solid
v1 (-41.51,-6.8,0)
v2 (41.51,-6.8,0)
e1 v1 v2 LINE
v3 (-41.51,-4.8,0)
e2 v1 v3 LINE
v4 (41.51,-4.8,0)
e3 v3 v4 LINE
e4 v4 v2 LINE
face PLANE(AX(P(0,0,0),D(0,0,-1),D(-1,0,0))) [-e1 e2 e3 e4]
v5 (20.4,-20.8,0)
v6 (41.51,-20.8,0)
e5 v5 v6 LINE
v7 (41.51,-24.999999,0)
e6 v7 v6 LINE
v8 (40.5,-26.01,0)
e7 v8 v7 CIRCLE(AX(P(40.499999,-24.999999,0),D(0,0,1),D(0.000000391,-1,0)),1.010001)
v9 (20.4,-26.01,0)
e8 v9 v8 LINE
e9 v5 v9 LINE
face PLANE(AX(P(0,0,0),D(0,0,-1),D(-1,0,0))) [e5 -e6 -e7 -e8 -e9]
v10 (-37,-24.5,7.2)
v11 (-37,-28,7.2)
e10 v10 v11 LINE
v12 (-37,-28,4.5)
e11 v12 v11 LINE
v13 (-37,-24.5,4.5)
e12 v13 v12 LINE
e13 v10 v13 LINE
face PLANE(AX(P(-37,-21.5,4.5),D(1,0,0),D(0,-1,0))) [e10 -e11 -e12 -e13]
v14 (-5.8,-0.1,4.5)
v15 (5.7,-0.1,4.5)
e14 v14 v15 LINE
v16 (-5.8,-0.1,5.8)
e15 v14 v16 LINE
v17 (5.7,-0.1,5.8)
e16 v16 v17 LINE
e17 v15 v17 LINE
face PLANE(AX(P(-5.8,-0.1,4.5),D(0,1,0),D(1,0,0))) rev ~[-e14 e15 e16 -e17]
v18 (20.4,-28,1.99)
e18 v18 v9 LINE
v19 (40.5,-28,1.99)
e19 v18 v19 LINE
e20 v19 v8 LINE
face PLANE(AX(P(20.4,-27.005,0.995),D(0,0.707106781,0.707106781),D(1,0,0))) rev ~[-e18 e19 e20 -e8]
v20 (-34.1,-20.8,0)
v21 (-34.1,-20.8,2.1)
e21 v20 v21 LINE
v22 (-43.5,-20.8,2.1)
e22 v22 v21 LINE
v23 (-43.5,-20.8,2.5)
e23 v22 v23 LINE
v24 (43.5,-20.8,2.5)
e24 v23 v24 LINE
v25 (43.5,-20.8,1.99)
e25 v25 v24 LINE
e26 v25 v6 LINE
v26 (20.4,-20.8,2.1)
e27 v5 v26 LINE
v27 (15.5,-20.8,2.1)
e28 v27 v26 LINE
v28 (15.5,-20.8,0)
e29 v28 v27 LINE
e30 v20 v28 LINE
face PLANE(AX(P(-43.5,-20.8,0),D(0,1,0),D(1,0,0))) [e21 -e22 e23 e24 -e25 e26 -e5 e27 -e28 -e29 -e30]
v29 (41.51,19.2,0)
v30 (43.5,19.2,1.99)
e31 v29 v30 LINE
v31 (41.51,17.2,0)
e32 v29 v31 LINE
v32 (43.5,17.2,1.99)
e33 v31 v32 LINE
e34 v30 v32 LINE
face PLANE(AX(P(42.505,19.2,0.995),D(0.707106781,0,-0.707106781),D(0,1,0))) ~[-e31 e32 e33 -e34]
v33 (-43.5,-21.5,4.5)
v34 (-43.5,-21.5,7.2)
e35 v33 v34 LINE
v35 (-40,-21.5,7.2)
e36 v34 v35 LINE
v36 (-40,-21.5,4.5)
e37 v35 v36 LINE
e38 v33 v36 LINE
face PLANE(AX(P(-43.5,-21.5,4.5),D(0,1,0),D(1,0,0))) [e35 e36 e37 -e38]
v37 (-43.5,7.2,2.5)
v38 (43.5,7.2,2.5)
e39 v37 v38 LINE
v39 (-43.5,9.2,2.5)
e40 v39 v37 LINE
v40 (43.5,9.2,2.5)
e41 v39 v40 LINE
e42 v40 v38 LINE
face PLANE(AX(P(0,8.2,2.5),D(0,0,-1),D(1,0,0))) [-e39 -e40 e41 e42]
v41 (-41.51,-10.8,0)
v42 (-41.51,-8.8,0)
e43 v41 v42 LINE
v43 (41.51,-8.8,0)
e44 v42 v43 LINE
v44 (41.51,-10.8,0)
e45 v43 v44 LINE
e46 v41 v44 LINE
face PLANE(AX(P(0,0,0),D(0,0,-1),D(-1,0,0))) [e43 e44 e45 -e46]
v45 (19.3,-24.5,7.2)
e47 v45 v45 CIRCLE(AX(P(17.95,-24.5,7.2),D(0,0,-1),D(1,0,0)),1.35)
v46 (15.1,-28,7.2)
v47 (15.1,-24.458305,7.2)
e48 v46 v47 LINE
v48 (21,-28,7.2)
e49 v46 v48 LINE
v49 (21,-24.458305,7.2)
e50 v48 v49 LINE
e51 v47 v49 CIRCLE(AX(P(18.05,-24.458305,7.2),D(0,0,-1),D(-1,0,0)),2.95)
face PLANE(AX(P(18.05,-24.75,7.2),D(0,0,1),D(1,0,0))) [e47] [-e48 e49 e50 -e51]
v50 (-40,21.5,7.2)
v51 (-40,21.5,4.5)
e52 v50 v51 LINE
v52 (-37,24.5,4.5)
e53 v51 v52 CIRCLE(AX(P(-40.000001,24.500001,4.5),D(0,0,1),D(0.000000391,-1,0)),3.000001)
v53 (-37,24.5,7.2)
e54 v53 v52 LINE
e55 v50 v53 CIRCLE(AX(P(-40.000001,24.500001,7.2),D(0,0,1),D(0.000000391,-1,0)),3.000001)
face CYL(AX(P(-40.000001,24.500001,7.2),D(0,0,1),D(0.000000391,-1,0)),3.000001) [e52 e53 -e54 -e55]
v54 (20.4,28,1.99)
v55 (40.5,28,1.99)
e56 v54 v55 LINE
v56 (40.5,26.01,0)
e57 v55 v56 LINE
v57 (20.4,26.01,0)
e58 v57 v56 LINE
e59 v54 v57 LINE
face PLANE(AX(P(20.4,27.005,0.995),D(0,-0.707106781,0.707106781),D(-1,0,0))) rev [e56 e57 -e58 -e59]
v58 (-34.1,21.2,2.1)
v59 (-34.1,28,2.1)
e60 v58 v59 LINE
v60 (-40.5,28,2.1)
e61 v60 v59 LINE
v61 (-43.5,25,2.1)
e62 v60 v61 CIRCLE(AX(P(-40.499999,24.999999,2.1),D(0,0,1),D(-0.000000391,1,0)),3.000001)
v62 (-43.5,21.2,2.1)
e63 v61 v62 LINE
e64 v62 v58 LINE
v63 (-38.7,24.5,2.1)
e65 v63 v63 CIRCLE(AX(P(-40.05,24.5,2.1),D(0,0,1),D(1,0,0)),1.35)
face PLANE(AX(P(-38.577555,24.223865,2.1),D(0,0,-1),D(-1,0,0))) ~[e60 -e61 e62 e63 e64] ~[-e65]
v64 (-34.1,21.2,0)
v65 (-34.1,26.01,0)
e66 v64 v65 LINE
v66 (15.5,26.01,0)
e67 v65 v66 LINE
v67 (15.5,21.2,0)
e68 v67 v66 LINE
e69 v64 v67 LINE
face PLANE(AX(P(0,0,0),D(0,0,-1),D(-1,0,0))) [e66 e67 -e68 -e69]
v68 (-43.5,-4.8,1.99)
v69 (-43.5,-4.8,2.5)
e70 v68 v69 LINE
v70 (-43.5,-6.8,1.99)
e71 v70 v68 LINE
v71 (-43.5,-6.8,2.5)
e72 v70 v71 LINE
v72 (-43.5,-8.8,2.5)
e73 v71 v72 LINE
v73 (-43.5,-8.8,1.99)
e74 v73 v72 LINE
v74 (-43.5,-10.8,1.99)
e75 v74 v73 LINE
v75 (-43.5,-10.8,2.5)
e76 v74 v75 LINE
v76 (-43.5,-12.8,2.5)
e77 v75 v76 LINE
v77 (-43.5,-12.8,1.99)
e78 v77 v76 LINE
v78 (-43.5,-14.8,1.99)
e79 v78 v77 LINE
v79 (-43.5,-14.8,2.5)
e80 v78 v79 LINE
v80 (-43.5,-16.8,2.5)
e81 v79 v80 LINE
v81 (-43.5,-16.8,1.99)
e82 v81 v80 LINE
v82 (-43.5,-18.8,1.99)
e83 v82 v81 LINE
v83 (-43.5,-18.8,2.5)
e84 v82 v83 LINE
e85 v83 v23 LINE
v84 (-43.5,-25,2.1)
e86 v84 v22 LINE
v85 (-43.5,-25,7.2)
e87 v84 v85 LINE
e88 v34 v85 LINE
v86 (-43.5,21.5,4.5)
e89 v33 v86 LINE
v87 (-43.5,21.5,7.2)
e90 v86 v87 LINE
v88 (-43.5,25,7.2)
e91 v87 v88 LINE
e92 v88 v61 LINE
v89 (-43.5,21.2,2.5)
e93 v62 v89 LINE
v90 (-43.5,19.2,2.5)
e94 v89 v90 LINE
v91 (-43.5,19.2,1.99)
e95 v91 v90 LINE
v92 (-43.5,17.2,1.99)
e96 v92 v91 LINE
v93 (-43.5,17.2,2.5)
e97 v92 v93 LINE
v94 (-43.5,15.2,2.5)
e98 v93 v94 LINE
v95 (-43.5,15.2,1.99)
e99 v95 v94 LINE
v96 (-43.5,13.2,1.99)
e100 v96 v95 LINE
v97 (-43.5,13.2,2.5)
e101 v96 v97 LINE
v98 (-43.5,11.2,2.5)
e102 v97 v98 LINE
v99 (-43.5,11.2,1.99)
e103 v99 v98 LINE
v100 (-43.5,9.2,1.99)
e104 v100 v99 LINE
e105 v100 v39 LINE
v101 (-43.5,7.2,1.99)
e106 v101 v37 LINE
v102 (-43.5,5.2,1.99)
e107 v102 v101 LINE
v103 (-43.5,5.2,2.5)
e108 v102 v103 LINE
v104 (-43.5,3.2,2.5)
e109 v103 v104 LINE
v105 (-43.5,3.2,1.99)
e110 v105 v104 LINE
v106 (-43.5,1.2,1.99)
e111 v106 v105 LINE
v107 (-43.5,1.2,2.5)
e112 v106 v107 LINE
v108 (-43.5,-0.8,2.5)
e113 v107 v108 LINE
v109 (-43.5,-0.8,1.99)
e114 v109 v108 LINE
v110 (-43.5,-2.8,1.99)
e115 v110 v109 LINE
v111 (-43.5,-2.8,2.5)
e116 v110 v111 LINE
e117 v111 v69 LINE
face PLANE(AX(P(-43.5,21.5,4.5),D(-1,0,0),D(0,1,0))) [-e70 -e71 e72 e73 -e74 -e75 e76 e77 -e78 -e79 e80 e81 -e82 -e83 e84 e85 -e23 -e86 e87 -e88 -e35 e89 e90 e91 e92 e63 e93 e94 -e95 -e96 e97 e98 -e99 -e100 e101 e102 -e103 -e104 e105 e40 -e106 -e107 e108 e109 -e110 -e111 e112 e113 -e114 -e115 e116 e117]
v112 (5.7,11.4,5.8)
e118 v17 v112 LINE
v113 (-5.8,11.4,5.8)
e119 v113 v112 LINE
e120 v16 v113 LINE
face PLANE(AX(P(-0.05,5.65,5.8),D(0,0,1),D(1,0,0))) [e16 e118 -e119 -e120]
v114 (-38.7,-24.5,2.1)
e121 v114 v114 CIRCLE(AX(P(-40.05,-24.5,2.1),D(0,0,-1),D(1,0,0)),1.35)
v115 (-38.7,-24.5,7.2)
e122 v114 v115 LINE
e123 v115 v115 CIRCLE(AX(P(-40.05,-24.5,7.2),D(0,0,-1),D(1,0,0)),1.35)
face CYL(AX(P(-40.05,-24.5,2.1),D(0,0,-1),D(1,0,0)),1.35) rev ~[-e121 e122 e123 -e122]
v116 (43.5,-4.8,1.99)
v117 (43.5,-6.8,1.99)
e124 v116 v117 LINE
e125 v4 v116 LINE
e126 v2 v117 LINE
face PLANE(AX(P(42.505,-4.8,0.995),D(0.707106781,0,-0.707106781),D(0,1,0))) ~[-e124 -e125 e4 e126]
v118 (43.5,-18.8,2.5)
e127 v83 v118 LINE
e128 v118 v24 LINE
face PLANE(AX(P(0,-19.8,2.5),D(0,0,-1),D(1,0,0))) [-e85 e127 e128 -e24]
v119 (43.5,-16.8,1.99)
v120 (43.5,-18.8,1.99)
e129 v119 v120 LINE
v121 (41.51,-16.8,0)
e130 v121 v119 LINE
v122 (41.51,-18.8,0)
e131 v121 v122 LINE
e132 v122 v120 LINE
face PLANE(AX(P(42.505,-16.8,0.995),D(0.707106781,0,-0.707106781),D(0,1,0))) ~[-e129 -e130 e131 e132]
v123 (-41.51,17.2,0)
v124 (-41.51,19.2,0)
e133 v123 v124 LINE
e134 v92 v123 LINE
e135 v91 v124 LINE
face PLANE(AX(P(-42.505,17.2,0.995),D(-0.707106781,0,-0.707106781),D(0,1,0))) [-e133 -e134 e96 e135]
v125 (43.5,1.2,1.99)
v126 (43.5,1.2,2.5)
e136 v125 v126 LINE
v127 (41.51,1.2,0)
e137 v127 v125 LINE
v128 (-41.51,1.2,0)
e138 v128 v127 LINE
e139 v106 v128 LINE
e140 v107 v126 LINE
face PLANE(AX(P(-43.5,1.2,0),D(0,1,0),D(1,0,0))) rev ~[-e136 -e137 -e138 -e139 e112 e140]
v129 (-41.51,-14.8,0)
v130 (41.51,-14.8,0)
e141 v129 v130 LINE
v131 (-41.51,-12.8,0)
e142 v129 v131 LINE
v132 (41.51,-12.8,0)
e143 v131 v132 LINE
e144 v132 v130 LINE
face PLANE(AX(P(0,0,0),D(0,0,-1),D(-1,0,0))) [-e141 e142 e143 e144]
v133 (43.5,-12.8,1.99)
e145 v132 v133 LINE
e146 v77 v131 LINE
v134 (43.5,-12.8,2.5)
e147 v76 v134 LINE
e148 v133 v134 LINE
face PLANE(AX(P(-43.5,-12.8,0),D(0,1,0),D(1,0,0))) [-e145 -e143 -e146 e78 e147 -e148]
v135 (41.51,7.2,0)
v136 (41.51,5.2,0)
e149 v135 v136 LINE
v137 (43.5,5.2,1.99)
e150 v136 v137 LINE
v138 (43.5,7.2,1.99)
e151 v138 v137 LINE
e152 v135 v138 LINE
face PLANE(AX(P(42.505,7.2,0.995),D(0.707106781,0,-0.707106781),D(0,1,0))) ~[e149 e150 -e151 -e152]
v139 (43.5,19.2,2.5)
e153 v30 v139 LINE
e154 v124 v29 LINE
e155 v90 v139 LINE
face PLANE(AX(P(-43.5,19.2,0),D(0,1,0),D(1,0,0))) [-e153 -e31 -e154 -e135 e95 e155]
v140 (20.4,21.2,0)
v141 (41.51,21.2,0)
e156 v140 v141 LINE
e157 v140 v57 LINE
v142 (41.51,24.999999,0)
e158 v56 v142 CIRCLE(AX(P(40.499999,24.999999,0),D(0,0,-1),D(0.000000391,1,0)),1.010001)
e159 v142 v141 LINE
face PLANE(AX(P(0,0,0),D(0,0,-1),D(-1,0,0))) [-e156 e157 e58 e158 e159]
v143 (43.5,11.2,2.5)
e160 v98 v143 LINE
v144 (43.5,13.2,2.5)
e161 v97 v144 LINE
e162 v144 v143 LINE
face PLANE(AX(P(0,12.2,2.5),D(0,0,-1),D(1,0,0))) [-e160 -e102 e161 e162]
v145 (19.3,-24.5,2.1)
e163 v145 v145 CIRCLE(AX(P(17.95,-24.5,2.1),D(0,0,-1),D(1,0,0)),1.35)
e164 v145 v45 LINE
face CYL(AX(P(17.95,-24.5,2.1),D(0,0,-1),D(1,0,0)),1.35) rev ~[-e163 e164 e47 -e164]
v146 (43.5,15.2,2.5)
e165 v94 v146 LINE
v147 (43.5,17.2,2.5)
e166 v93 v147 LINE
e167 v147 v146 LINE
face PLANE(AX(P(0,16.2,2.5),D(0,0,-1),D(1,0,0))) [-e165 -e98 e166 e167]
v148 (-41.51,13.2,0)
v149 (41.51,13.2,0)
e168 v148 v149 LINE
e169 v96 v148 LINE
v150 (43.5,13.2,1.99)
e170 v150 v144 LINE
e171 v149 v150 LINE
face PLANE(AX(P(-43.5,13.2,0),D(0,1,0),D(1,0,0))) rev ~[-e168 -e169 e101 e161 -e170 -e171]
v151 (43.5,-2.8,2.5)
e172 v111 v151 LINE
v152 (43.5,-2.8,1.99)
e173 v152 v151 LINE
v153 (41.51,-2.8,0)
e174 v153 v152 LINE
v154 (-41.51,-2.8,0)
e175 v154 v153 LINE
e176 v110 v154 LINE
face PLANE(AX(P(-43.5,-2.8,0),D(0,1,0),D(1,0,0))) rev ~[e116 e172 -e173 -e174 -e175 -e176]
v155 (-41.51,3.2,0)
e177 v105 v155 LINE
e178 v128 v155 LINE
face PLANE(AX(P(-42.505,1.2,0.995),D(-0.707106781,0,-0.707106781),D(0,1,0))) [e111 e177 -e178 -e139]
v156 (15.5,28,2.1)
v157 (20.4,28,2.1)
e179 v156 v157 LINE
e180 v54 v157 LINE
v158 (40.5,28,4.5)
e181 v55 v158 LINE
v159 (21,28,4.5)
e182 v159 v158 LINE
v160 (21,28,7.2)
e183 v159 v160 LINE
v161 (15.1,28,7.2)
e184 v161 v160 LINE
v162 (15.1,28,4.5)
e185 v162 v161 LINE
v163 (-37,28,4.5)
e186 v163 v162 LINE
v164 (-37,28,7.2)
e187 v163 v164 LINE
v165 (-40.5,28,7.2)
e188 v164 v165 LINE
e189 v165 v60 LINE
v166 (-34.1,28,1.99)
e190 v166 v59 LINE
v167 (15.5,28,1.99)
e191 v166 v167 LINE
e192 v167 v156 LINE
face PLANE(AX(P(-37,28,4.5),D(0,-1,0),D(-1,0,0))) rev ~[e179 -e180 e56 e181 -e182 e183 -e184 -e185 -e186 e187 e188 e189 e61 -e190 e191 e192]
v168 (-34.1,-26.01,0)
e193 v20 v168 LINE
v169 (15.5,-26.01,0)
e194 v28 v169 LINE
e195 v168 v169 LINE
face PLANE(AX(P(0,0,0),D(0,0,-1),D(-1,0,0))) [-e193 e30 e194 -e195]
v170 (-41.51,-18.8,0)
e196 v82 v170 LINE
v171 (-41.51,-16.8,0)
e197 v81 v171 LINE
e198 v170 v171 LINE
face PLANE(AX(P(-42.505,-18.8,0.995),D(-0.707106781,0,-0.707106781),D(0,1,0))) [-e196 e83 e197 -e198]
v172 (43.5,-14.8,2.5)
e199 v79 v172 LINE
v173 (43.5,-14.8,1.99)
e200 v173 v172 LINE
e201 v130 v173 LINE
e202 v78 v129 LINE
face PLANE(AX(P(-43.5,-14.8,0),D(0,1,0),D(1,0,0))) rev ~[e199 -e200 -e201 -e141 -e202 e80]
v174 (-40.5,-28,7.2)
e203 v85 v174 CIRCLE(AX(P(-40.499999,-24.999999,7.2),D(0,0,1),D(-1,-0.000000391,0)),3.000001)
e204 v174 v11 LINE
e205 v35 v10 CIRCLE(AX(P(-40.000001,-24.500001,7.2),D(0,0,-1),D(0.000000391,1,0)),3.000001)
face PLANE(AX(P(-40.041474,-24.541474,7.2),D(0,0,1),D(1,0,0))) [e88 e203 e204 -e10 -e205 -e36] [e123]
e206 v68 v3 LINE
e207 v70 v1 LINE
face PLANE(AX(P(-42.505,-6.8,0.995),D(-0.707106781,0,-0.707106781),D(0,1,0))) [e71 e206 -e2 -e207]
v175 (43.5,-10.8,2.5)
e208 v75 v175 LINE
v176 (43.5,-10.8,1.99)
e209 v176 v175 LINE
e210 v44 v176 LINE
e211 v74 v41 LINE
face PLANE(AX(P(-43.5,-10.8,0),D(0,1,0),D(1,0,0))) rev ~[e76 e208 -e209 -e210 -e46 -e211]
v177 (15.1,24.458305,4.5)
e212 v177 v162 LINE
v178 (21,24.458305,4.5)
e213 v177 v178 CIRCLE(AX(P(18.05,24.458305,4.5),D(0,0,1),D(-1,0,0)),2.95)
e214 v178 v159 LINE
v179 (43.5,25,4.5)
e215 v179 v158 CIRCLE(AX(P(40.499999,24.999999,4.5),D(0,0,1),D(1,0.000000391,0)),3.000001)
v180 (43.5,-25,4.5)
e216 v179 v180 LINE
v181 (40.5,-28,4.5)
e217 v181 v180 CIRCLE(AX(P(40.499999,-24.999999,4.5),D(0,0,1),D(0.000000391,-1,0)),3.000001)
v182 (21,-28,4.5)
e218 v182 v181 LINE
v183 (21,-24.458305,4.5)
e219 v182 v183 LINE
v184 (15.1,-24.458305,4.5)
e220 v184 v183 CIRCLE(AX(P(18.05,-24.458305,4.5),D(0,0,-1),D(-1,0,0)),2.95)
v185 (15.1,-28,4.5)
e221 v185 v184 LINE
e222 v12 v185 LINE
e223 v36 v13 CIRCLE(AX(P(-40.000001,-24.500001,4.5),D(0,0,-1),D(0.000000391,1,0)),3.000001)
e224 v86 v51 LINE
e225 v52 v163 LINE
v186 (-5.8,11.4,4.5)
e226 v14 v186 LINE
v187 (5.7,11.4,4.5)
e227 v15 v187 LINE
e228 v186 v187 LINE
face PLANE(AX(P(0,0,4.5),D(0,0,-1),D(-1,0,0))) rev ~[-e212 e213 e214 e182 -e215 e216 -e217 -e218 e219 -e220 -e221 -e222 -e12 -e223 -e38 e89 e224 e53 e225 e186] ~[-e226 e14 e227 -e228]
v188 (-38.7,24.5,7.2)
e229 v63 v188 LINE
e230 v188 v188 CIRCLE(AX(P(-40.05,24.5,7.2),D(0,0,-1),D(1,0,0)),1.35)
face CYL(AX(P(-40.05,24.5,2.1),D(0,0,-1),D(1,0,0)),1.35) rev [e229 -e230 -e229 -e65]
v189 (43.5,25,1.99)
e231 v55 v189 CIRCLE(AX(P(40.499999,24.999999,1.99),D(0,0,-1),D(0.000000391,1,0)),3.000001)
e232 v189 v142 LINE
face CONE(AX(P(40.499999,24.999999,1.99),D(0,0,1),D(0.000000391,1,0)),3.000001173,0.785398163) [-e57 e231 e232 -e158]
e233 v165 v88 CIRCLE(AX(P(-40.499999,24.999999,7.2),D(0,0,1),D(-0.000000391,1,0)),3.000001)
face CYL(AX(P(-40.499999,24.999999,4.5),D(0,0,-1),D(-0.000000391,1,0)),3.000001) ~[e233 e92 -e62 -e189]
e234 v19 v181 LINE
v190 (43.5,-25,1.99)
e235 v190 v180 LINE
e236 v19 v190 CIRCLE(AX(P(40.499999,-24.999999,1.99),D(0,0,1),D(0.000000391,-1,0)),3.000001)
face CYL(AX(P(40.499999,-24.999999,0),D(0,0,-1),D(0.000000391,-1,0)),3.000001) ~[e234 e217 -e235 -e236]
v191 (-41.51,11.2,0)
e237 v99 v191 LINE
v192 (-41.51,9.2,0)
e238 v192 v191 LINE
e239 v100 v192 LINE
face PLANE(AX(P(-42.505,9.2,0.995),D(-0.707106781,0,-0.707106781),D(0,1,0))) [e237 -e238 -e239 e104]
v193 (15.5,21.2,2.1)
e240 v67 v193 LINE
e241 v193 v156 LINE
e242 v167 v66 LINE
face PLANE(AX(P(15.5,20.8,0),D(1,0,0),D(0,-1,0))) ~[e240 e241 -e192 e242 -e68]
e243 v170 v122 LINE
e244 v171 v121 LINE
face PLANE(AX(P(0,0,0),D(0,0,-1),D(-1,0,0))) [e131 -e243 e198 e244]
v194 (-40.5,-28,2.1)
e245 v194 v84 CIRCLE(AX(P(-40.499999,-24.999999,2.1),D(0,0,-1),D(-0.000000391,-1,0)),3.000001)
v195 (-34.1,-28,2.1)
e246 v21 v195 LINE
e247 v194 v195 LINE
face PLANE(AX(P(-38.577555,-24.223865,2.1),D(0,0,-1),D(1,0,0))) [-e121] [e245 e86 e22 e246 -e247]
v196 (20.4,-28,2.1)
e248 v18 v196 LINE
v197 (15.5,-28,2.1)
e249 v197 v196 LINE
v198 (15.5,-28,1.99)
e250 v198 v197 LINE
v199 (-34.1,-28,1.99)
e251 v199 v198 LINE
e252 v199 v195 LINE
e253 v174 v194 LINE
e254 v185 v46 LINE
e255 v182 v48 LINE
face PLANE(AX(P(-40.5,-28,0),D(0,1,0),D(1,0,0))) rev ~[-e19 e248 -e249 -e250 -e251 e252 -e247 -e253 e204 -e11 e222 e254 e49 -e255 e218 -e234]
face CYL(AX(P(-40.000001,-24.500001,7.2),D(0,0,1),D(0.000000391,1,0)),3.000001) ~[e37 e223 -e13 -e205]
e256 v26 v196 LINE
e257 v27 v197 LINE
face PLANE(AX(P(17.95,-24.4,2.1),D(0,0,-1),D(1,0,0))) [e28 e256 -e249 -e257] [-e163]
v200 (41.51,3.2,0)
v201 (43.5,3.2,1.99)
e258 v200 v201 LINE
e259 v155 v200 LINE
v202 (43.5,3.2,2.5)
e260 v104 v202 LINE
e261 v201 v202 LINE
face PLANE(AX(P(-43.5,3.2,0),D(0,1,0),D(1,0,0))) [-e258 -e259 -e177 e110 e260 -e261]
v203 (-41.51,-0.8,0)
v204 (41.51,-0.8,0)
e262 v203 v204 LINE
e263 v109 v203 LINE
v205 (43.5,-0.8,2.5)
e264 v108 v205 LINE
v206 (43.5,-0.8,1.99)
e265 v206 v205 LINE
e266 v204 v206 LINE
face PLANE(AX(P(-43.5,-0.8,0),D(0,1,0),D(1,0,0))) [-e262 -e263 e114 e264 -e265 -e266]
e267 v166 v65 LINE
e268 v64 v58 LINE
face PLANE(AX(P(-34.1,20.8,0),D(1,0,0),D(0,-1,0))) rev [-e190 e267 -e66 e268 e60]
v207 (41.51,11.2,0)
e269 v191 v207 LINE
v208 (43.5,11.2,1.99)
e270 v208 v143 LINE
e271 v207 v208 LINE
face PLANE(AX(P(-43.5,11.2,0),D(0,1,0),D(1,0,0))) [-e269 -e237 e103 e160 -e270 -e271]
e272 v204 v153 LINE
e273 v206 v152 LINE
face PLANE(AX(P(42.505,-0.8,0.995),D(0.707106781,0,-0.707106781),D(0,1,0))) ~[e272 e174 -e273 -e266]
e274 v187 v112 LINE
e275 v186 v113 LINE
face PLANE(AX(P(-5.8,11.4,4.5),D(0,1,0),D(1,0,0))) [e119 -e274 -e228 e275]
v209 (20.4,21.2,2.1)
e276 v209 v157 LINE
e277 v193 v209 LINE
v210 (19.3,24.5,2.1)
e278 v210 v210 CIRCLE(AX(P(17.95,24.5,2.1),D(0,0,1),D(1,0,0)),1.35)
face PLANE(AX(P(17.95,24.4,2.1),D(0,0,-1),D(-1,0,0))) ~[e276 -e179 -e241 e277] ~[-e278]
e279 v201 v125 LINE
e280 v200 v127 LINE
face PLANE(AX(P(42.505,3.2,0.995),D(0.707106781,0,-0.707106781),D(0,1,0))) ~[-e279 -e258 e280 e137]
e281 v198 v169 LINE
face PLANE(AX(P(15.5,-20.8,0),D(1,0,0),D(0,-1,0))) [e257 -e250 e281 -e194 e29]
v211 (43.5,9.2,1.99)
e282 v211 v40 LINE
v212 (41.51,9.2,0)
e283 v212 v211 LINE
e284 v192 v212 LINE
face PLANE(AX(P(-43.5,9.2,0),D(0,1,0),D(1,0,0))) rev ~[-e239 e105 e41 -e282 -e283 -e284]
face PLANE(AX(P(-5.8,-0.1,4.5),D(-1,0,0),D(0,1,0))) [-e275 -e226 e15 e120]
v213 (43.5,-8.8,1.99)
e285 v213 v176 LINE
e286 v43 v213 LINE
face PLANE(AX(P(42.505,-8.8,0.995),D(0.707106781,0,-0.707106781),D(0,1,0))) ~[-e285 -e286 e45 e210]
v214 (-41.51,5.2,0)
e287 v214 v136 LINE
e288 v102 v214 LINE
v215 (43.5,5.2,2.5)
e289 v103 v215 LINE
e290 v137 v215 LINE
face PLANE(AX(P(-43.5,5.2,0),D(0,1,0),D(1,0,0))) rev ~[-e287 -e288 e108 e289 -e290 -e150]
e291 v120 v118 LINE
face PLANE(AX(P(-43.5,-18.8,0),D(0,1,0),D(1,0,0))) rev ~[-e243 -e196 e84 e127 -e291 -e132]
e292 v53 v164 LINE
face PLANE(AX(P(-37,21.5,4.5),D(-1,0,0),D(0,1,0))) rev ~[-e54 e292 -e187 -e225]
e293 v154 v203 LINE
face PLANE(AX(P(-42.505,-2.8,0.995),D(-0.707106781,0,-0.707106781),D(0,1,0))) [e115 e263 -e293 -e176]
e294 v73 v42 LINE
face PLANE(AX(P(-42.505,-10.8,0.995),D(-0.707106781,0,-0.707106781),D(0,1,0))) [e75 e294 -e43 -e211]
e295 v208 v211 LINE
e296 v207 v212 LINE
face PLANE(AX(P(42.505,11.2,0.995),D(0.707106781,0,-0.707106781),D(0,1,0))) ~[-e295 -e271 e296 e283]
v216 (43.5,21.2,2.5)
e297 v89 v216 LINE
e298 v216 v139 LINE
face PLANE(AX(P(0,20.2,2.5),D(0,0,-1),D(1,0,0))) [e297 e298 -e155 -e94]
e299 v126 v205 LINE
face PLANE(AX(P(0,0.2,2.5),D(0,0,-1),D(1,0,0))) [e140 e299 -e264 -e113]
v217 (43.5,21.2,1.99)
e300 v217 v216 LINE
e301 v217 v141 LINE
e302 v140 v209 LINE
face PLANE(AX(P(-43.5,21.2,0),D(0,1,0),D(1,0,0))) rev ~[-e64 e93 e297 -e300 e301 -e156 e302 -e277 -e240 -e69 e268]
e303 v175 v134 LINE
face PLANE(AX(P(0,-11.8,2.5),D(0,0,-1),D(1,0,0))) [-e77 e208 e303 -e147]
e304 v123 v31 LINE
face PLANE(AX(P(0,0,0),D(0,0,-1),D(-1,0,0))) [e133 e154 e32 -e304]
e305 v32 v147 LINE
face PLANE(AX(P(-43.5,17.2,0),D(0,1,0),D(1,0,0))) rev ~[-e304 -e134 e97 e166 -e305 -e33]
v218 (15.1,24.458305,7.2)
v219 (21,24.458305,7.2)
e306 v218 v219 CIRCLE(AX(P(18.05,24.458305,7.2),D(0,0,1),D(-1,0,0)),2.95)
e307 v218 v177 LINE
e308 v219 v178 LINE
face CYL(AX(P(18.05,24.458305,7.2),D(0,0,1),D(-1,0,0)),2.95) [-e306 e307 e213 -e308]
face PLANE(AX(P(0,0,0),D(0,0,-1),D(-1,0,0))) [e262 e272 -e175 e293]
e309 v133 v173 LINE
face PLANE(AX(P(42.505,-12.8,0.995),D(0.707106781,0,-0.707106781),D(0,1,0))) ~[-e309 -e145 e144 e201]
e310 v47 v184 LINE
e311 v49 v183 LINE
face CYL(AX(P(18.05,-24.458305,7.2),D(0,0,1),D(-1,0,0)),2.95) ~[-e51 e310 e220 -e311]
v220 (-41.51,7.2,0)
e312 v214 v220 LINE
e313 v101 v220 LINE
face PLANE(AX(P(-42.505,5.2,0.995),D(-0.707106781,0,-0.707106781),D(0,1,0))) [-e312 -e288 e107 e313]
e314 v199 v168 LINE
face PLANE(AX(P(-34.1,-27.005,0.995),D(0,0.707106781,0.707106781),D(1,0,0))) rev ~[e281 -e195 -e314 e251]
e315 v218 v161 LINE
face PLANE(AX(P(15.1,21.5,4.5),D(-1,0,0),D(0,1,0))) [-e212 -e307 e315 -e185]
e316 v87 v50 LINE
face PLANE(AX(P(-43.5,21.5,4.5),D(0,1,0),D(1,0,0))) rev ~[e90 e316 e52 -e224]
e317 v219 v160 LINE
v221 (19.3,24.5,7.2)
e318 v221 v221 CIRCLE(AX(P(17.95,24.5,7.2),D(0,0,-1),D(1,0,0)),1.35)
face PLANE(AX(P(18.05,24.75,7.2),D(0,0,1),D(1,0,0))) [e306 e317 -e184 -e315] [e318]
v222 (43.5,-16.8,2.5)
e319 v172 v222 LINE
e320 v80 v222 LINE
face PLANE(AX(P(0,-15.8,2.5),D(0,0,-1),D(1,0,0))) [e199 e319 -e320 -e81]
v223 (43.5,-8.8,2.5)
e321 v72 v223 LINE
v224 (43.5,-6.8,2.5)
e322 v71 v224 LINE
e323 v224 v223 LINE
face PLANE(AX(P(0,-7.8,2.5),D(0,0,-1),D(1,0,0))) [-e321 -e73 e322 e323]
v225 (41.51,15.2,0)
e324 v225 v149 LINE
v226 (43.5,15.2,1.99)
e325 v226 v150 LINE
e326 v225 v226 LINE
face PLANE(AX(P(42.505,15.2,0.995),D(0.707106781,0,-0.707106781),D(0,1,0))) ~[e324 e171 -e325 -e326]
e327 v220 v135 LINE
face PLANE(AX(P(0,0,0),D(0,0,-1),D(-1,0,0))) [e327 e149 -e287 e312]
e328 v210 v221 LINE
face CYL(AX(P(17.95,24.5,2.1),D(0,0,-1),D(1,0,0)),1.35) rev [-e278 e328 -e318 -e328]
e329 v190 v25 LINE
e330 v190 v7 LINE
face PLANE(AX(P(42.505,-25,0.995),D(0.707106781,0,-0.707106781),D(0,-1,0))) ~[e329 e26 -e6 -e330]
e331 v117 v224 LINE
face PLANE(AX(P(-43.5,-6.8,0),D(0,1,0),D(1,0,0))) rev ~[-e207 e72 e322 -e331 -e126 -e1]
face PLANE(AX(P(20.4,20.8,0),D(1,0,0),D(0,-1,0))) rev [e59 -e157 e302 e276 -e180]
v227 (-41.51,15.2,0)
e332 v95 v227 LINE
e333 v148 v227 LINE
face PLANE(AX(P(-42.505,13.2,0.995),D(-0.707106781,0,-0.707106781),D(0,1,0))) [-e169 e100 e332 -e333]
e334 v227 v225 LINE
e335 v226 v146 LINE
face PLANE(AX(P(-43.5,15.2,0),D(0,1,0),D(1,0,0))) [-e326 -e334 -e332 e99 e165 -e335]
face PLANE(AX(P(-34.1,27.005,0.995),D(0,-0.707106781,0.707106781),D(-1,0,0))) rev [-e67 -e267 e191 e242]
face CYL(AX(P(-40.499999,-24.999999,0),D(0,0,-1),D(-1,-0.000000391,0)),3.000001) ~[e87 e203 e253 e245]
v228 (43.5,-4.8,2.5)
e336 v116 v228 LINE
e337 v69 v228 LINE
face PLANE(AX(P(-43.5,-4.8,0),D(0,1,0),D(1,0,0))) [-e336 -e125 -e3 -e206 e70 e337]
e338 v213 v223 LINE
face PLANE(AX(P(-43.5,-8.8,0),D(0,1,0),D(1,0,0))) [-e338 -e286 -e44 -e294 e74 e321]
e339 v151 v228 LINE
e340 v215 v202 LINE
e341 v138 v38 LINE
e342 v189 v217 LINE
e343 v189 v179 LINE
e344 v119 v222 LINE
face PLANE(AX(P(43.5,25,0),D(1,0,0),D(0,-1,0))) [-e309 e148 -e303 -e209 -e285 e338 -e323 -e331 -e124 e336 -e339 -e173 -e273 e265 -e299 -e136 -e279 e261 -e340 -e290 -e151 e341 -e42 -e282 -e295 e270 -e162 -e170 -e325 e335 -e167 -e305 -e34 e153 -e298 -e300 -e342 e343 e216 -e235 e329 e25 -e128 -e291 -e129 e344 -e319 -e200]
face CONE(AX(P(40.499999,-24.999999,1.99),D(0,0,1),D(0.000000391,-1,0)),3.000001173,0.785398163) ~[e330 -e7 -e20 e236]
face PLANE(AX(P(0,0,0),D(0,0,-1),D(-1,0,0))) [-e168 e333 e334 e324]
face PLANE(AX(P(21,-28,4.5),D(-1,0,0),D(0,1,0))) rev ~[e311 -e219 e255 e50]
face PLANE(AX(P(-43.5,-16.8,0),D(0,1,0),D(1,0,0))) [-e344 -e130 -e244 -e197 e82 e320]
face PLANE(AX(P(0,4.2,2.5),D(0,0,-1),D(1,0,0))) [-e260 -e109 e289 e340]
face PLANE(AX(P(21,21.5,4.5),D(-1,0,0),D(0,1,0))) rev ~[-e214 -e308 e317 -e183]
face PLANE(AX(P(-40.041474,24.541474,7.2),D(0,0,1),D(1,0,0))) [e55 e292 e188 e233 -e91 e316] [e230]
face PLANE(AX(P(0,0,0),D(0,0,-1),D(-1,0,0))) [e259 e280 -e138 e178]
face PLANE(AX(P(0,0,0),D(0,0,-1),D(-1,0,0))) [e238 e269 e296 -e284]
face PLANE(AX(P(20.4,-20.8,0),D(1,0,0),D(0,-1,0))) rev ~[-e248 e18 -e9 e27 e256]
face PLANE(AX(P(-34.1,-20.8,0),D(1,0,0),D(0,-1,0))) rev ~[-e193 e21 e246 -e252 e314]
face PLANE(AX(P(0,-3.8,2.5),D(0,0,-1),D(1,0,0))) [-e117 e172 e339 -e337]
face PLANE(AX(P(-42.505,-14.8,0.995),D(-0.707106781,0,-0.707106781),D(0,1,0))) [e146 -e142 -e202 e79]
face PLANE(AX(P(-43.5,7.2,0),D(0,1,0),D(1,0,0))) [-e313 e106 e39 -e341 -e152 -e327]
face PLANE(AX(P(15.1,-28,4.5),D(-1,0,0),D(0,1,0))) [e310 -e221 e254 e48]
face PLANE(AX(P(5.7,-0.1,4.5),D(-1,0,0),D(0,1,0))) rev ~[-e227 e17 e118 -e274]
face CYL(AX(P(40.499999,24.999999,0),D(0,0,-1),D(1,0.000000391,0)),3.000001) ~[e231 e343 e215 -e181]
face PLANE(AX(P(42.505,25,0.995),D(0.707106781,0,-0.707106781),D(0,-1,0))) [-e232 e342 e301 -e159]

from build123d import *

# Parameters (mm, degrees)
PAD_DEPTH           = 4.5
SKETCH001_W         = 5.9
SKETCH001_H         = 6.5
PAD001_DEPTH        = 2.7
SKETCH002_W         = 87
SKETCH002_H         = 2
POCKET_DEPTH        = 2.5
LINEARPATTERN_COUNT = 11
LINEARPATTERN_PITCH = 4
SKETCH003_W         = 4.9
SKETCH003_H         = 7.2
POCKET001_DEPTH     = 2.1
SKETCH004_R         = 1.35
POCKET002_DEPTH     = 212.531374
CHAMFER_SIZE        = 1.99
POCKET003_DEPTH     = 2.7
SKETCH006_W         = 11.5
SKETCH006_H         = 11.5
PAD002_DEPTH        = 1.3


with BuildPart() as part:
    # Sketch → Pad (new body)
    with BuildSketch(Plane.XY):
        with BuildLine():
            Line((43.5, 25), (43.5, -25))
            ThreePointArc((40.5, -28), (42.62132, -27.12132), (43.5, -25))
            Line((-40.5, -28), (40.5, -28))
            ThreePointArc((-43.5, -25), (-42.62132, -27.12132), (-40.5, -28))
            Line((-43.5, -25), (-43.5, 25))
            ThreePointArc((-40.5, 28), (-42.62132, 27.12132), (-43.5, 25))
            Line((-40.5, 28), (40.5, 28))
            ThreePointArc((43.5, 25), (42.62132, 27.12132), (40.5, 28))
        make_face()
    extrude(amount=PAD_DEPTH)

    # Sketch001 (on Face10 of Pad) → Pad001 (join)
    with BuildSketch(Plane.XY.offset(4.5)):
        with BuildLine():
            Line((-43.5, 21.5), (-37, 21.5))
            Line((-37, 21.5), (-37, 28))
            Line((-37, 28), (-40.5, 28))
            ThreePointArc((-40.5, 28), (-42.62132, 27.12132), (-43.5, 25))
            Line((-43.5, 21.5), (-43.5, 25))
        make_face()
        with Locations((18.05, 24.75)):
            Rectangle(SKETCH001_W, SKETCH001_H)
        with BuildLine():
            Line((-43.5, -21.5), (-43.5, -25))
            ThreePointArc((-43.5, -25), (-42.62132, -27.12132), (-40.5, -28))
            Line((-40.5, -28), (-37, -28))
            Line((-37, -21.5), (-37, -28))
            Line((-43.5, -21.5), (-37, -21.5))
        make_face()
        with Locations((18.05, -24.75)):
            Rectangle(SKETCH001_W, SKETCH001_H)
    extrude(amount=PAD001_DEPTH)

    # Sketch002 (on Face4 of Pad001) → Pocket (cut)
    with BuildSketch(Plane(origin=(0, 0, 0), x_dir=(1, 0, 0), z_dir=(0, 0, -1))):
        with Locations((0, 19.8)):
            Rectangle(SKETCH002_W, SKETCH002_H)
    pocket = extrude(amount=-POCKET_DEPTH, mode=Mode.SUBTRACT)

    # LinearPattern: Pocket ×11
    with Locations(*[(0, i * LINEARPATTERN_PITCH, 0) for i in range(1, LINEARPATTERN_COUNT)]):
        add(pocket, mode=Mode.SUBTRACT)

    # Sketch003 (on Face26 of LinearPattern) → Pocket001 (cut)
    with BuildSketch(Plane(origin=(0, 0, 0), x_dir=(1, 0, 0), z_dir=(0, 0, -1))):
        with BuildLine():
            Line((-43.5, 25), (-43.5, 20.8))
            Line((-43.5, 20.8), (-34.1, 20.8))
            Line((-34.1, 20.8), (-34.1, 28))
            Line((-40.5, 28), (-34.1, 28))
            ThreePointArc((-40.5, 28), (-42.62132, 27.12132), (-43.5, 25))
        make_face()
        with Locations((17.95, 24.4)):
            Rectangle(SKETCH003_W, SKETCH003_H)
    pocket001 = extrude(amount=-POCKET001_DEPTH, mode=Mode.SUBTRACT)

    # Mirrored: Pocket001 across Sketch003 H_Axis
    add(pocket001.mirror(Plane(origin=(0, 0, 0), x_dir=(0, 0, -1), z_dir=(0, -1, 0))), mode=Mode.SUBTRACT)

    # Sketch004 (on Face33 of Mirrored) → Pocket002 (cut, through all)
    with BuildSketch(Plane(origin=(0, 0, 2.1), x_dir=(1, 0, 0), z_dir=(0, 0, -1))):
        with Locations((-40.05, 24.5)):
            Circle(SKETCH004_R)
        with Locations((17.95, 24.5)):
            Circle(SKETCH004_R)
    pocket002 = extrude(amount=-POCKET002_DEPTH, mode=Mode.SUBTRACT)

    # Mirrored001: Pocket002 across Sketch004 H_Axis
    add(pocket002.mirror(Plane(origin=(0, 0, 2.1), x_dir=(0, 0, -1), z_dir=(0, -1, 0))), mode=Mode.SUBTRACT)

    # Chamfer
    chamfer_edges = [part.edges().sort_by_distance(p)[0] for p in [
        (-9.3, 28, 0),
        (-43.5, 18.2, 0),
        (-43.5, 14.2, 0),
        (-43.5, 10.2, 0),
        (-43.5, 6.2, 0),
        (-43.5, 2.2, 0),
        (-43.5, -1.8, 0),
        (-43.5, -5.8, 0),
        (-43.5, -9.8, 0),
        (-43.5, -13.8, 0),
        (-43.5, -17.8, 0),
        (-9.3, -28, 0),
        (30.45, -28, 0),
        (42.62132, -27.12132, 0),
        (43.5, -22.9, 0),
        (43.5, -17.8, 0),
        (43.5, -13.8, 0),
        (43.5, -9.8, 0),
        (43.5, -5.8, 0),
        (43.5, -1.8, 0),
        (43.5, 2.2, 0),
        (43.5, 6.2, 0),
        (43.5, 10.2, 0),
        (43.5, 14.2, 0),
        (43.5, 18.2, 0),
        (43.5, 23.1, 0),
        (42.62132, 27.12132, 0),
        (30.45, 28, 0),
    ]]
    chamfer(chamfer_edges, length=CHAMFER_SIZE)

    # Sketch005 (on Face21 of Chamfer) → Pocket003 (cut)
    with BuildSketch(Plane.XY.offset(7.2)):
        with BuildLine():
            Line((-40, 21.5), (-37, 21.5))
            Line((-37, 24.5), (-37, 21.5))
            ThreePointArc((-40, 21.5), (-37.87868, 22.37868), (-37, 24.5))
        make_face()
        with BuildLine():
            Line((15.1, 21.5), (21, 21.5))
            Line((21, 24.458305), (21, 21.5))
            ThreePointArc((15.1, 24.458305), (18.05, 21.508305), (21, 24.458305))
            Line((15.1, 21.5), (15.1, 24.458305))
        make_face()
    pocket003 = extrude(amount=-POCKET003_DEPTH, mode=Mode.SUBTRACT)

    # Mirrored002: Pocket003 across Sketch005 H_Axis
    add(pocket003.mirror(Plane(origin=(0, 0, 7.2), x_dir=(0, 0, 1), z_dir=(0, 1, 0))), mode=Mode.SUBTRACT)

    # Sketch006 (on Face110 of Mirrored002) → Pad002 (join)
    with BuildSketch(Plane.XY.offset(4.5)):
        with Locations((-0.05, 5.65)):
            Rectangle(SKETCH006_W, SKETCH006_H)
    extrude(amount=PAD002_DEPTH)


solid = part.part
